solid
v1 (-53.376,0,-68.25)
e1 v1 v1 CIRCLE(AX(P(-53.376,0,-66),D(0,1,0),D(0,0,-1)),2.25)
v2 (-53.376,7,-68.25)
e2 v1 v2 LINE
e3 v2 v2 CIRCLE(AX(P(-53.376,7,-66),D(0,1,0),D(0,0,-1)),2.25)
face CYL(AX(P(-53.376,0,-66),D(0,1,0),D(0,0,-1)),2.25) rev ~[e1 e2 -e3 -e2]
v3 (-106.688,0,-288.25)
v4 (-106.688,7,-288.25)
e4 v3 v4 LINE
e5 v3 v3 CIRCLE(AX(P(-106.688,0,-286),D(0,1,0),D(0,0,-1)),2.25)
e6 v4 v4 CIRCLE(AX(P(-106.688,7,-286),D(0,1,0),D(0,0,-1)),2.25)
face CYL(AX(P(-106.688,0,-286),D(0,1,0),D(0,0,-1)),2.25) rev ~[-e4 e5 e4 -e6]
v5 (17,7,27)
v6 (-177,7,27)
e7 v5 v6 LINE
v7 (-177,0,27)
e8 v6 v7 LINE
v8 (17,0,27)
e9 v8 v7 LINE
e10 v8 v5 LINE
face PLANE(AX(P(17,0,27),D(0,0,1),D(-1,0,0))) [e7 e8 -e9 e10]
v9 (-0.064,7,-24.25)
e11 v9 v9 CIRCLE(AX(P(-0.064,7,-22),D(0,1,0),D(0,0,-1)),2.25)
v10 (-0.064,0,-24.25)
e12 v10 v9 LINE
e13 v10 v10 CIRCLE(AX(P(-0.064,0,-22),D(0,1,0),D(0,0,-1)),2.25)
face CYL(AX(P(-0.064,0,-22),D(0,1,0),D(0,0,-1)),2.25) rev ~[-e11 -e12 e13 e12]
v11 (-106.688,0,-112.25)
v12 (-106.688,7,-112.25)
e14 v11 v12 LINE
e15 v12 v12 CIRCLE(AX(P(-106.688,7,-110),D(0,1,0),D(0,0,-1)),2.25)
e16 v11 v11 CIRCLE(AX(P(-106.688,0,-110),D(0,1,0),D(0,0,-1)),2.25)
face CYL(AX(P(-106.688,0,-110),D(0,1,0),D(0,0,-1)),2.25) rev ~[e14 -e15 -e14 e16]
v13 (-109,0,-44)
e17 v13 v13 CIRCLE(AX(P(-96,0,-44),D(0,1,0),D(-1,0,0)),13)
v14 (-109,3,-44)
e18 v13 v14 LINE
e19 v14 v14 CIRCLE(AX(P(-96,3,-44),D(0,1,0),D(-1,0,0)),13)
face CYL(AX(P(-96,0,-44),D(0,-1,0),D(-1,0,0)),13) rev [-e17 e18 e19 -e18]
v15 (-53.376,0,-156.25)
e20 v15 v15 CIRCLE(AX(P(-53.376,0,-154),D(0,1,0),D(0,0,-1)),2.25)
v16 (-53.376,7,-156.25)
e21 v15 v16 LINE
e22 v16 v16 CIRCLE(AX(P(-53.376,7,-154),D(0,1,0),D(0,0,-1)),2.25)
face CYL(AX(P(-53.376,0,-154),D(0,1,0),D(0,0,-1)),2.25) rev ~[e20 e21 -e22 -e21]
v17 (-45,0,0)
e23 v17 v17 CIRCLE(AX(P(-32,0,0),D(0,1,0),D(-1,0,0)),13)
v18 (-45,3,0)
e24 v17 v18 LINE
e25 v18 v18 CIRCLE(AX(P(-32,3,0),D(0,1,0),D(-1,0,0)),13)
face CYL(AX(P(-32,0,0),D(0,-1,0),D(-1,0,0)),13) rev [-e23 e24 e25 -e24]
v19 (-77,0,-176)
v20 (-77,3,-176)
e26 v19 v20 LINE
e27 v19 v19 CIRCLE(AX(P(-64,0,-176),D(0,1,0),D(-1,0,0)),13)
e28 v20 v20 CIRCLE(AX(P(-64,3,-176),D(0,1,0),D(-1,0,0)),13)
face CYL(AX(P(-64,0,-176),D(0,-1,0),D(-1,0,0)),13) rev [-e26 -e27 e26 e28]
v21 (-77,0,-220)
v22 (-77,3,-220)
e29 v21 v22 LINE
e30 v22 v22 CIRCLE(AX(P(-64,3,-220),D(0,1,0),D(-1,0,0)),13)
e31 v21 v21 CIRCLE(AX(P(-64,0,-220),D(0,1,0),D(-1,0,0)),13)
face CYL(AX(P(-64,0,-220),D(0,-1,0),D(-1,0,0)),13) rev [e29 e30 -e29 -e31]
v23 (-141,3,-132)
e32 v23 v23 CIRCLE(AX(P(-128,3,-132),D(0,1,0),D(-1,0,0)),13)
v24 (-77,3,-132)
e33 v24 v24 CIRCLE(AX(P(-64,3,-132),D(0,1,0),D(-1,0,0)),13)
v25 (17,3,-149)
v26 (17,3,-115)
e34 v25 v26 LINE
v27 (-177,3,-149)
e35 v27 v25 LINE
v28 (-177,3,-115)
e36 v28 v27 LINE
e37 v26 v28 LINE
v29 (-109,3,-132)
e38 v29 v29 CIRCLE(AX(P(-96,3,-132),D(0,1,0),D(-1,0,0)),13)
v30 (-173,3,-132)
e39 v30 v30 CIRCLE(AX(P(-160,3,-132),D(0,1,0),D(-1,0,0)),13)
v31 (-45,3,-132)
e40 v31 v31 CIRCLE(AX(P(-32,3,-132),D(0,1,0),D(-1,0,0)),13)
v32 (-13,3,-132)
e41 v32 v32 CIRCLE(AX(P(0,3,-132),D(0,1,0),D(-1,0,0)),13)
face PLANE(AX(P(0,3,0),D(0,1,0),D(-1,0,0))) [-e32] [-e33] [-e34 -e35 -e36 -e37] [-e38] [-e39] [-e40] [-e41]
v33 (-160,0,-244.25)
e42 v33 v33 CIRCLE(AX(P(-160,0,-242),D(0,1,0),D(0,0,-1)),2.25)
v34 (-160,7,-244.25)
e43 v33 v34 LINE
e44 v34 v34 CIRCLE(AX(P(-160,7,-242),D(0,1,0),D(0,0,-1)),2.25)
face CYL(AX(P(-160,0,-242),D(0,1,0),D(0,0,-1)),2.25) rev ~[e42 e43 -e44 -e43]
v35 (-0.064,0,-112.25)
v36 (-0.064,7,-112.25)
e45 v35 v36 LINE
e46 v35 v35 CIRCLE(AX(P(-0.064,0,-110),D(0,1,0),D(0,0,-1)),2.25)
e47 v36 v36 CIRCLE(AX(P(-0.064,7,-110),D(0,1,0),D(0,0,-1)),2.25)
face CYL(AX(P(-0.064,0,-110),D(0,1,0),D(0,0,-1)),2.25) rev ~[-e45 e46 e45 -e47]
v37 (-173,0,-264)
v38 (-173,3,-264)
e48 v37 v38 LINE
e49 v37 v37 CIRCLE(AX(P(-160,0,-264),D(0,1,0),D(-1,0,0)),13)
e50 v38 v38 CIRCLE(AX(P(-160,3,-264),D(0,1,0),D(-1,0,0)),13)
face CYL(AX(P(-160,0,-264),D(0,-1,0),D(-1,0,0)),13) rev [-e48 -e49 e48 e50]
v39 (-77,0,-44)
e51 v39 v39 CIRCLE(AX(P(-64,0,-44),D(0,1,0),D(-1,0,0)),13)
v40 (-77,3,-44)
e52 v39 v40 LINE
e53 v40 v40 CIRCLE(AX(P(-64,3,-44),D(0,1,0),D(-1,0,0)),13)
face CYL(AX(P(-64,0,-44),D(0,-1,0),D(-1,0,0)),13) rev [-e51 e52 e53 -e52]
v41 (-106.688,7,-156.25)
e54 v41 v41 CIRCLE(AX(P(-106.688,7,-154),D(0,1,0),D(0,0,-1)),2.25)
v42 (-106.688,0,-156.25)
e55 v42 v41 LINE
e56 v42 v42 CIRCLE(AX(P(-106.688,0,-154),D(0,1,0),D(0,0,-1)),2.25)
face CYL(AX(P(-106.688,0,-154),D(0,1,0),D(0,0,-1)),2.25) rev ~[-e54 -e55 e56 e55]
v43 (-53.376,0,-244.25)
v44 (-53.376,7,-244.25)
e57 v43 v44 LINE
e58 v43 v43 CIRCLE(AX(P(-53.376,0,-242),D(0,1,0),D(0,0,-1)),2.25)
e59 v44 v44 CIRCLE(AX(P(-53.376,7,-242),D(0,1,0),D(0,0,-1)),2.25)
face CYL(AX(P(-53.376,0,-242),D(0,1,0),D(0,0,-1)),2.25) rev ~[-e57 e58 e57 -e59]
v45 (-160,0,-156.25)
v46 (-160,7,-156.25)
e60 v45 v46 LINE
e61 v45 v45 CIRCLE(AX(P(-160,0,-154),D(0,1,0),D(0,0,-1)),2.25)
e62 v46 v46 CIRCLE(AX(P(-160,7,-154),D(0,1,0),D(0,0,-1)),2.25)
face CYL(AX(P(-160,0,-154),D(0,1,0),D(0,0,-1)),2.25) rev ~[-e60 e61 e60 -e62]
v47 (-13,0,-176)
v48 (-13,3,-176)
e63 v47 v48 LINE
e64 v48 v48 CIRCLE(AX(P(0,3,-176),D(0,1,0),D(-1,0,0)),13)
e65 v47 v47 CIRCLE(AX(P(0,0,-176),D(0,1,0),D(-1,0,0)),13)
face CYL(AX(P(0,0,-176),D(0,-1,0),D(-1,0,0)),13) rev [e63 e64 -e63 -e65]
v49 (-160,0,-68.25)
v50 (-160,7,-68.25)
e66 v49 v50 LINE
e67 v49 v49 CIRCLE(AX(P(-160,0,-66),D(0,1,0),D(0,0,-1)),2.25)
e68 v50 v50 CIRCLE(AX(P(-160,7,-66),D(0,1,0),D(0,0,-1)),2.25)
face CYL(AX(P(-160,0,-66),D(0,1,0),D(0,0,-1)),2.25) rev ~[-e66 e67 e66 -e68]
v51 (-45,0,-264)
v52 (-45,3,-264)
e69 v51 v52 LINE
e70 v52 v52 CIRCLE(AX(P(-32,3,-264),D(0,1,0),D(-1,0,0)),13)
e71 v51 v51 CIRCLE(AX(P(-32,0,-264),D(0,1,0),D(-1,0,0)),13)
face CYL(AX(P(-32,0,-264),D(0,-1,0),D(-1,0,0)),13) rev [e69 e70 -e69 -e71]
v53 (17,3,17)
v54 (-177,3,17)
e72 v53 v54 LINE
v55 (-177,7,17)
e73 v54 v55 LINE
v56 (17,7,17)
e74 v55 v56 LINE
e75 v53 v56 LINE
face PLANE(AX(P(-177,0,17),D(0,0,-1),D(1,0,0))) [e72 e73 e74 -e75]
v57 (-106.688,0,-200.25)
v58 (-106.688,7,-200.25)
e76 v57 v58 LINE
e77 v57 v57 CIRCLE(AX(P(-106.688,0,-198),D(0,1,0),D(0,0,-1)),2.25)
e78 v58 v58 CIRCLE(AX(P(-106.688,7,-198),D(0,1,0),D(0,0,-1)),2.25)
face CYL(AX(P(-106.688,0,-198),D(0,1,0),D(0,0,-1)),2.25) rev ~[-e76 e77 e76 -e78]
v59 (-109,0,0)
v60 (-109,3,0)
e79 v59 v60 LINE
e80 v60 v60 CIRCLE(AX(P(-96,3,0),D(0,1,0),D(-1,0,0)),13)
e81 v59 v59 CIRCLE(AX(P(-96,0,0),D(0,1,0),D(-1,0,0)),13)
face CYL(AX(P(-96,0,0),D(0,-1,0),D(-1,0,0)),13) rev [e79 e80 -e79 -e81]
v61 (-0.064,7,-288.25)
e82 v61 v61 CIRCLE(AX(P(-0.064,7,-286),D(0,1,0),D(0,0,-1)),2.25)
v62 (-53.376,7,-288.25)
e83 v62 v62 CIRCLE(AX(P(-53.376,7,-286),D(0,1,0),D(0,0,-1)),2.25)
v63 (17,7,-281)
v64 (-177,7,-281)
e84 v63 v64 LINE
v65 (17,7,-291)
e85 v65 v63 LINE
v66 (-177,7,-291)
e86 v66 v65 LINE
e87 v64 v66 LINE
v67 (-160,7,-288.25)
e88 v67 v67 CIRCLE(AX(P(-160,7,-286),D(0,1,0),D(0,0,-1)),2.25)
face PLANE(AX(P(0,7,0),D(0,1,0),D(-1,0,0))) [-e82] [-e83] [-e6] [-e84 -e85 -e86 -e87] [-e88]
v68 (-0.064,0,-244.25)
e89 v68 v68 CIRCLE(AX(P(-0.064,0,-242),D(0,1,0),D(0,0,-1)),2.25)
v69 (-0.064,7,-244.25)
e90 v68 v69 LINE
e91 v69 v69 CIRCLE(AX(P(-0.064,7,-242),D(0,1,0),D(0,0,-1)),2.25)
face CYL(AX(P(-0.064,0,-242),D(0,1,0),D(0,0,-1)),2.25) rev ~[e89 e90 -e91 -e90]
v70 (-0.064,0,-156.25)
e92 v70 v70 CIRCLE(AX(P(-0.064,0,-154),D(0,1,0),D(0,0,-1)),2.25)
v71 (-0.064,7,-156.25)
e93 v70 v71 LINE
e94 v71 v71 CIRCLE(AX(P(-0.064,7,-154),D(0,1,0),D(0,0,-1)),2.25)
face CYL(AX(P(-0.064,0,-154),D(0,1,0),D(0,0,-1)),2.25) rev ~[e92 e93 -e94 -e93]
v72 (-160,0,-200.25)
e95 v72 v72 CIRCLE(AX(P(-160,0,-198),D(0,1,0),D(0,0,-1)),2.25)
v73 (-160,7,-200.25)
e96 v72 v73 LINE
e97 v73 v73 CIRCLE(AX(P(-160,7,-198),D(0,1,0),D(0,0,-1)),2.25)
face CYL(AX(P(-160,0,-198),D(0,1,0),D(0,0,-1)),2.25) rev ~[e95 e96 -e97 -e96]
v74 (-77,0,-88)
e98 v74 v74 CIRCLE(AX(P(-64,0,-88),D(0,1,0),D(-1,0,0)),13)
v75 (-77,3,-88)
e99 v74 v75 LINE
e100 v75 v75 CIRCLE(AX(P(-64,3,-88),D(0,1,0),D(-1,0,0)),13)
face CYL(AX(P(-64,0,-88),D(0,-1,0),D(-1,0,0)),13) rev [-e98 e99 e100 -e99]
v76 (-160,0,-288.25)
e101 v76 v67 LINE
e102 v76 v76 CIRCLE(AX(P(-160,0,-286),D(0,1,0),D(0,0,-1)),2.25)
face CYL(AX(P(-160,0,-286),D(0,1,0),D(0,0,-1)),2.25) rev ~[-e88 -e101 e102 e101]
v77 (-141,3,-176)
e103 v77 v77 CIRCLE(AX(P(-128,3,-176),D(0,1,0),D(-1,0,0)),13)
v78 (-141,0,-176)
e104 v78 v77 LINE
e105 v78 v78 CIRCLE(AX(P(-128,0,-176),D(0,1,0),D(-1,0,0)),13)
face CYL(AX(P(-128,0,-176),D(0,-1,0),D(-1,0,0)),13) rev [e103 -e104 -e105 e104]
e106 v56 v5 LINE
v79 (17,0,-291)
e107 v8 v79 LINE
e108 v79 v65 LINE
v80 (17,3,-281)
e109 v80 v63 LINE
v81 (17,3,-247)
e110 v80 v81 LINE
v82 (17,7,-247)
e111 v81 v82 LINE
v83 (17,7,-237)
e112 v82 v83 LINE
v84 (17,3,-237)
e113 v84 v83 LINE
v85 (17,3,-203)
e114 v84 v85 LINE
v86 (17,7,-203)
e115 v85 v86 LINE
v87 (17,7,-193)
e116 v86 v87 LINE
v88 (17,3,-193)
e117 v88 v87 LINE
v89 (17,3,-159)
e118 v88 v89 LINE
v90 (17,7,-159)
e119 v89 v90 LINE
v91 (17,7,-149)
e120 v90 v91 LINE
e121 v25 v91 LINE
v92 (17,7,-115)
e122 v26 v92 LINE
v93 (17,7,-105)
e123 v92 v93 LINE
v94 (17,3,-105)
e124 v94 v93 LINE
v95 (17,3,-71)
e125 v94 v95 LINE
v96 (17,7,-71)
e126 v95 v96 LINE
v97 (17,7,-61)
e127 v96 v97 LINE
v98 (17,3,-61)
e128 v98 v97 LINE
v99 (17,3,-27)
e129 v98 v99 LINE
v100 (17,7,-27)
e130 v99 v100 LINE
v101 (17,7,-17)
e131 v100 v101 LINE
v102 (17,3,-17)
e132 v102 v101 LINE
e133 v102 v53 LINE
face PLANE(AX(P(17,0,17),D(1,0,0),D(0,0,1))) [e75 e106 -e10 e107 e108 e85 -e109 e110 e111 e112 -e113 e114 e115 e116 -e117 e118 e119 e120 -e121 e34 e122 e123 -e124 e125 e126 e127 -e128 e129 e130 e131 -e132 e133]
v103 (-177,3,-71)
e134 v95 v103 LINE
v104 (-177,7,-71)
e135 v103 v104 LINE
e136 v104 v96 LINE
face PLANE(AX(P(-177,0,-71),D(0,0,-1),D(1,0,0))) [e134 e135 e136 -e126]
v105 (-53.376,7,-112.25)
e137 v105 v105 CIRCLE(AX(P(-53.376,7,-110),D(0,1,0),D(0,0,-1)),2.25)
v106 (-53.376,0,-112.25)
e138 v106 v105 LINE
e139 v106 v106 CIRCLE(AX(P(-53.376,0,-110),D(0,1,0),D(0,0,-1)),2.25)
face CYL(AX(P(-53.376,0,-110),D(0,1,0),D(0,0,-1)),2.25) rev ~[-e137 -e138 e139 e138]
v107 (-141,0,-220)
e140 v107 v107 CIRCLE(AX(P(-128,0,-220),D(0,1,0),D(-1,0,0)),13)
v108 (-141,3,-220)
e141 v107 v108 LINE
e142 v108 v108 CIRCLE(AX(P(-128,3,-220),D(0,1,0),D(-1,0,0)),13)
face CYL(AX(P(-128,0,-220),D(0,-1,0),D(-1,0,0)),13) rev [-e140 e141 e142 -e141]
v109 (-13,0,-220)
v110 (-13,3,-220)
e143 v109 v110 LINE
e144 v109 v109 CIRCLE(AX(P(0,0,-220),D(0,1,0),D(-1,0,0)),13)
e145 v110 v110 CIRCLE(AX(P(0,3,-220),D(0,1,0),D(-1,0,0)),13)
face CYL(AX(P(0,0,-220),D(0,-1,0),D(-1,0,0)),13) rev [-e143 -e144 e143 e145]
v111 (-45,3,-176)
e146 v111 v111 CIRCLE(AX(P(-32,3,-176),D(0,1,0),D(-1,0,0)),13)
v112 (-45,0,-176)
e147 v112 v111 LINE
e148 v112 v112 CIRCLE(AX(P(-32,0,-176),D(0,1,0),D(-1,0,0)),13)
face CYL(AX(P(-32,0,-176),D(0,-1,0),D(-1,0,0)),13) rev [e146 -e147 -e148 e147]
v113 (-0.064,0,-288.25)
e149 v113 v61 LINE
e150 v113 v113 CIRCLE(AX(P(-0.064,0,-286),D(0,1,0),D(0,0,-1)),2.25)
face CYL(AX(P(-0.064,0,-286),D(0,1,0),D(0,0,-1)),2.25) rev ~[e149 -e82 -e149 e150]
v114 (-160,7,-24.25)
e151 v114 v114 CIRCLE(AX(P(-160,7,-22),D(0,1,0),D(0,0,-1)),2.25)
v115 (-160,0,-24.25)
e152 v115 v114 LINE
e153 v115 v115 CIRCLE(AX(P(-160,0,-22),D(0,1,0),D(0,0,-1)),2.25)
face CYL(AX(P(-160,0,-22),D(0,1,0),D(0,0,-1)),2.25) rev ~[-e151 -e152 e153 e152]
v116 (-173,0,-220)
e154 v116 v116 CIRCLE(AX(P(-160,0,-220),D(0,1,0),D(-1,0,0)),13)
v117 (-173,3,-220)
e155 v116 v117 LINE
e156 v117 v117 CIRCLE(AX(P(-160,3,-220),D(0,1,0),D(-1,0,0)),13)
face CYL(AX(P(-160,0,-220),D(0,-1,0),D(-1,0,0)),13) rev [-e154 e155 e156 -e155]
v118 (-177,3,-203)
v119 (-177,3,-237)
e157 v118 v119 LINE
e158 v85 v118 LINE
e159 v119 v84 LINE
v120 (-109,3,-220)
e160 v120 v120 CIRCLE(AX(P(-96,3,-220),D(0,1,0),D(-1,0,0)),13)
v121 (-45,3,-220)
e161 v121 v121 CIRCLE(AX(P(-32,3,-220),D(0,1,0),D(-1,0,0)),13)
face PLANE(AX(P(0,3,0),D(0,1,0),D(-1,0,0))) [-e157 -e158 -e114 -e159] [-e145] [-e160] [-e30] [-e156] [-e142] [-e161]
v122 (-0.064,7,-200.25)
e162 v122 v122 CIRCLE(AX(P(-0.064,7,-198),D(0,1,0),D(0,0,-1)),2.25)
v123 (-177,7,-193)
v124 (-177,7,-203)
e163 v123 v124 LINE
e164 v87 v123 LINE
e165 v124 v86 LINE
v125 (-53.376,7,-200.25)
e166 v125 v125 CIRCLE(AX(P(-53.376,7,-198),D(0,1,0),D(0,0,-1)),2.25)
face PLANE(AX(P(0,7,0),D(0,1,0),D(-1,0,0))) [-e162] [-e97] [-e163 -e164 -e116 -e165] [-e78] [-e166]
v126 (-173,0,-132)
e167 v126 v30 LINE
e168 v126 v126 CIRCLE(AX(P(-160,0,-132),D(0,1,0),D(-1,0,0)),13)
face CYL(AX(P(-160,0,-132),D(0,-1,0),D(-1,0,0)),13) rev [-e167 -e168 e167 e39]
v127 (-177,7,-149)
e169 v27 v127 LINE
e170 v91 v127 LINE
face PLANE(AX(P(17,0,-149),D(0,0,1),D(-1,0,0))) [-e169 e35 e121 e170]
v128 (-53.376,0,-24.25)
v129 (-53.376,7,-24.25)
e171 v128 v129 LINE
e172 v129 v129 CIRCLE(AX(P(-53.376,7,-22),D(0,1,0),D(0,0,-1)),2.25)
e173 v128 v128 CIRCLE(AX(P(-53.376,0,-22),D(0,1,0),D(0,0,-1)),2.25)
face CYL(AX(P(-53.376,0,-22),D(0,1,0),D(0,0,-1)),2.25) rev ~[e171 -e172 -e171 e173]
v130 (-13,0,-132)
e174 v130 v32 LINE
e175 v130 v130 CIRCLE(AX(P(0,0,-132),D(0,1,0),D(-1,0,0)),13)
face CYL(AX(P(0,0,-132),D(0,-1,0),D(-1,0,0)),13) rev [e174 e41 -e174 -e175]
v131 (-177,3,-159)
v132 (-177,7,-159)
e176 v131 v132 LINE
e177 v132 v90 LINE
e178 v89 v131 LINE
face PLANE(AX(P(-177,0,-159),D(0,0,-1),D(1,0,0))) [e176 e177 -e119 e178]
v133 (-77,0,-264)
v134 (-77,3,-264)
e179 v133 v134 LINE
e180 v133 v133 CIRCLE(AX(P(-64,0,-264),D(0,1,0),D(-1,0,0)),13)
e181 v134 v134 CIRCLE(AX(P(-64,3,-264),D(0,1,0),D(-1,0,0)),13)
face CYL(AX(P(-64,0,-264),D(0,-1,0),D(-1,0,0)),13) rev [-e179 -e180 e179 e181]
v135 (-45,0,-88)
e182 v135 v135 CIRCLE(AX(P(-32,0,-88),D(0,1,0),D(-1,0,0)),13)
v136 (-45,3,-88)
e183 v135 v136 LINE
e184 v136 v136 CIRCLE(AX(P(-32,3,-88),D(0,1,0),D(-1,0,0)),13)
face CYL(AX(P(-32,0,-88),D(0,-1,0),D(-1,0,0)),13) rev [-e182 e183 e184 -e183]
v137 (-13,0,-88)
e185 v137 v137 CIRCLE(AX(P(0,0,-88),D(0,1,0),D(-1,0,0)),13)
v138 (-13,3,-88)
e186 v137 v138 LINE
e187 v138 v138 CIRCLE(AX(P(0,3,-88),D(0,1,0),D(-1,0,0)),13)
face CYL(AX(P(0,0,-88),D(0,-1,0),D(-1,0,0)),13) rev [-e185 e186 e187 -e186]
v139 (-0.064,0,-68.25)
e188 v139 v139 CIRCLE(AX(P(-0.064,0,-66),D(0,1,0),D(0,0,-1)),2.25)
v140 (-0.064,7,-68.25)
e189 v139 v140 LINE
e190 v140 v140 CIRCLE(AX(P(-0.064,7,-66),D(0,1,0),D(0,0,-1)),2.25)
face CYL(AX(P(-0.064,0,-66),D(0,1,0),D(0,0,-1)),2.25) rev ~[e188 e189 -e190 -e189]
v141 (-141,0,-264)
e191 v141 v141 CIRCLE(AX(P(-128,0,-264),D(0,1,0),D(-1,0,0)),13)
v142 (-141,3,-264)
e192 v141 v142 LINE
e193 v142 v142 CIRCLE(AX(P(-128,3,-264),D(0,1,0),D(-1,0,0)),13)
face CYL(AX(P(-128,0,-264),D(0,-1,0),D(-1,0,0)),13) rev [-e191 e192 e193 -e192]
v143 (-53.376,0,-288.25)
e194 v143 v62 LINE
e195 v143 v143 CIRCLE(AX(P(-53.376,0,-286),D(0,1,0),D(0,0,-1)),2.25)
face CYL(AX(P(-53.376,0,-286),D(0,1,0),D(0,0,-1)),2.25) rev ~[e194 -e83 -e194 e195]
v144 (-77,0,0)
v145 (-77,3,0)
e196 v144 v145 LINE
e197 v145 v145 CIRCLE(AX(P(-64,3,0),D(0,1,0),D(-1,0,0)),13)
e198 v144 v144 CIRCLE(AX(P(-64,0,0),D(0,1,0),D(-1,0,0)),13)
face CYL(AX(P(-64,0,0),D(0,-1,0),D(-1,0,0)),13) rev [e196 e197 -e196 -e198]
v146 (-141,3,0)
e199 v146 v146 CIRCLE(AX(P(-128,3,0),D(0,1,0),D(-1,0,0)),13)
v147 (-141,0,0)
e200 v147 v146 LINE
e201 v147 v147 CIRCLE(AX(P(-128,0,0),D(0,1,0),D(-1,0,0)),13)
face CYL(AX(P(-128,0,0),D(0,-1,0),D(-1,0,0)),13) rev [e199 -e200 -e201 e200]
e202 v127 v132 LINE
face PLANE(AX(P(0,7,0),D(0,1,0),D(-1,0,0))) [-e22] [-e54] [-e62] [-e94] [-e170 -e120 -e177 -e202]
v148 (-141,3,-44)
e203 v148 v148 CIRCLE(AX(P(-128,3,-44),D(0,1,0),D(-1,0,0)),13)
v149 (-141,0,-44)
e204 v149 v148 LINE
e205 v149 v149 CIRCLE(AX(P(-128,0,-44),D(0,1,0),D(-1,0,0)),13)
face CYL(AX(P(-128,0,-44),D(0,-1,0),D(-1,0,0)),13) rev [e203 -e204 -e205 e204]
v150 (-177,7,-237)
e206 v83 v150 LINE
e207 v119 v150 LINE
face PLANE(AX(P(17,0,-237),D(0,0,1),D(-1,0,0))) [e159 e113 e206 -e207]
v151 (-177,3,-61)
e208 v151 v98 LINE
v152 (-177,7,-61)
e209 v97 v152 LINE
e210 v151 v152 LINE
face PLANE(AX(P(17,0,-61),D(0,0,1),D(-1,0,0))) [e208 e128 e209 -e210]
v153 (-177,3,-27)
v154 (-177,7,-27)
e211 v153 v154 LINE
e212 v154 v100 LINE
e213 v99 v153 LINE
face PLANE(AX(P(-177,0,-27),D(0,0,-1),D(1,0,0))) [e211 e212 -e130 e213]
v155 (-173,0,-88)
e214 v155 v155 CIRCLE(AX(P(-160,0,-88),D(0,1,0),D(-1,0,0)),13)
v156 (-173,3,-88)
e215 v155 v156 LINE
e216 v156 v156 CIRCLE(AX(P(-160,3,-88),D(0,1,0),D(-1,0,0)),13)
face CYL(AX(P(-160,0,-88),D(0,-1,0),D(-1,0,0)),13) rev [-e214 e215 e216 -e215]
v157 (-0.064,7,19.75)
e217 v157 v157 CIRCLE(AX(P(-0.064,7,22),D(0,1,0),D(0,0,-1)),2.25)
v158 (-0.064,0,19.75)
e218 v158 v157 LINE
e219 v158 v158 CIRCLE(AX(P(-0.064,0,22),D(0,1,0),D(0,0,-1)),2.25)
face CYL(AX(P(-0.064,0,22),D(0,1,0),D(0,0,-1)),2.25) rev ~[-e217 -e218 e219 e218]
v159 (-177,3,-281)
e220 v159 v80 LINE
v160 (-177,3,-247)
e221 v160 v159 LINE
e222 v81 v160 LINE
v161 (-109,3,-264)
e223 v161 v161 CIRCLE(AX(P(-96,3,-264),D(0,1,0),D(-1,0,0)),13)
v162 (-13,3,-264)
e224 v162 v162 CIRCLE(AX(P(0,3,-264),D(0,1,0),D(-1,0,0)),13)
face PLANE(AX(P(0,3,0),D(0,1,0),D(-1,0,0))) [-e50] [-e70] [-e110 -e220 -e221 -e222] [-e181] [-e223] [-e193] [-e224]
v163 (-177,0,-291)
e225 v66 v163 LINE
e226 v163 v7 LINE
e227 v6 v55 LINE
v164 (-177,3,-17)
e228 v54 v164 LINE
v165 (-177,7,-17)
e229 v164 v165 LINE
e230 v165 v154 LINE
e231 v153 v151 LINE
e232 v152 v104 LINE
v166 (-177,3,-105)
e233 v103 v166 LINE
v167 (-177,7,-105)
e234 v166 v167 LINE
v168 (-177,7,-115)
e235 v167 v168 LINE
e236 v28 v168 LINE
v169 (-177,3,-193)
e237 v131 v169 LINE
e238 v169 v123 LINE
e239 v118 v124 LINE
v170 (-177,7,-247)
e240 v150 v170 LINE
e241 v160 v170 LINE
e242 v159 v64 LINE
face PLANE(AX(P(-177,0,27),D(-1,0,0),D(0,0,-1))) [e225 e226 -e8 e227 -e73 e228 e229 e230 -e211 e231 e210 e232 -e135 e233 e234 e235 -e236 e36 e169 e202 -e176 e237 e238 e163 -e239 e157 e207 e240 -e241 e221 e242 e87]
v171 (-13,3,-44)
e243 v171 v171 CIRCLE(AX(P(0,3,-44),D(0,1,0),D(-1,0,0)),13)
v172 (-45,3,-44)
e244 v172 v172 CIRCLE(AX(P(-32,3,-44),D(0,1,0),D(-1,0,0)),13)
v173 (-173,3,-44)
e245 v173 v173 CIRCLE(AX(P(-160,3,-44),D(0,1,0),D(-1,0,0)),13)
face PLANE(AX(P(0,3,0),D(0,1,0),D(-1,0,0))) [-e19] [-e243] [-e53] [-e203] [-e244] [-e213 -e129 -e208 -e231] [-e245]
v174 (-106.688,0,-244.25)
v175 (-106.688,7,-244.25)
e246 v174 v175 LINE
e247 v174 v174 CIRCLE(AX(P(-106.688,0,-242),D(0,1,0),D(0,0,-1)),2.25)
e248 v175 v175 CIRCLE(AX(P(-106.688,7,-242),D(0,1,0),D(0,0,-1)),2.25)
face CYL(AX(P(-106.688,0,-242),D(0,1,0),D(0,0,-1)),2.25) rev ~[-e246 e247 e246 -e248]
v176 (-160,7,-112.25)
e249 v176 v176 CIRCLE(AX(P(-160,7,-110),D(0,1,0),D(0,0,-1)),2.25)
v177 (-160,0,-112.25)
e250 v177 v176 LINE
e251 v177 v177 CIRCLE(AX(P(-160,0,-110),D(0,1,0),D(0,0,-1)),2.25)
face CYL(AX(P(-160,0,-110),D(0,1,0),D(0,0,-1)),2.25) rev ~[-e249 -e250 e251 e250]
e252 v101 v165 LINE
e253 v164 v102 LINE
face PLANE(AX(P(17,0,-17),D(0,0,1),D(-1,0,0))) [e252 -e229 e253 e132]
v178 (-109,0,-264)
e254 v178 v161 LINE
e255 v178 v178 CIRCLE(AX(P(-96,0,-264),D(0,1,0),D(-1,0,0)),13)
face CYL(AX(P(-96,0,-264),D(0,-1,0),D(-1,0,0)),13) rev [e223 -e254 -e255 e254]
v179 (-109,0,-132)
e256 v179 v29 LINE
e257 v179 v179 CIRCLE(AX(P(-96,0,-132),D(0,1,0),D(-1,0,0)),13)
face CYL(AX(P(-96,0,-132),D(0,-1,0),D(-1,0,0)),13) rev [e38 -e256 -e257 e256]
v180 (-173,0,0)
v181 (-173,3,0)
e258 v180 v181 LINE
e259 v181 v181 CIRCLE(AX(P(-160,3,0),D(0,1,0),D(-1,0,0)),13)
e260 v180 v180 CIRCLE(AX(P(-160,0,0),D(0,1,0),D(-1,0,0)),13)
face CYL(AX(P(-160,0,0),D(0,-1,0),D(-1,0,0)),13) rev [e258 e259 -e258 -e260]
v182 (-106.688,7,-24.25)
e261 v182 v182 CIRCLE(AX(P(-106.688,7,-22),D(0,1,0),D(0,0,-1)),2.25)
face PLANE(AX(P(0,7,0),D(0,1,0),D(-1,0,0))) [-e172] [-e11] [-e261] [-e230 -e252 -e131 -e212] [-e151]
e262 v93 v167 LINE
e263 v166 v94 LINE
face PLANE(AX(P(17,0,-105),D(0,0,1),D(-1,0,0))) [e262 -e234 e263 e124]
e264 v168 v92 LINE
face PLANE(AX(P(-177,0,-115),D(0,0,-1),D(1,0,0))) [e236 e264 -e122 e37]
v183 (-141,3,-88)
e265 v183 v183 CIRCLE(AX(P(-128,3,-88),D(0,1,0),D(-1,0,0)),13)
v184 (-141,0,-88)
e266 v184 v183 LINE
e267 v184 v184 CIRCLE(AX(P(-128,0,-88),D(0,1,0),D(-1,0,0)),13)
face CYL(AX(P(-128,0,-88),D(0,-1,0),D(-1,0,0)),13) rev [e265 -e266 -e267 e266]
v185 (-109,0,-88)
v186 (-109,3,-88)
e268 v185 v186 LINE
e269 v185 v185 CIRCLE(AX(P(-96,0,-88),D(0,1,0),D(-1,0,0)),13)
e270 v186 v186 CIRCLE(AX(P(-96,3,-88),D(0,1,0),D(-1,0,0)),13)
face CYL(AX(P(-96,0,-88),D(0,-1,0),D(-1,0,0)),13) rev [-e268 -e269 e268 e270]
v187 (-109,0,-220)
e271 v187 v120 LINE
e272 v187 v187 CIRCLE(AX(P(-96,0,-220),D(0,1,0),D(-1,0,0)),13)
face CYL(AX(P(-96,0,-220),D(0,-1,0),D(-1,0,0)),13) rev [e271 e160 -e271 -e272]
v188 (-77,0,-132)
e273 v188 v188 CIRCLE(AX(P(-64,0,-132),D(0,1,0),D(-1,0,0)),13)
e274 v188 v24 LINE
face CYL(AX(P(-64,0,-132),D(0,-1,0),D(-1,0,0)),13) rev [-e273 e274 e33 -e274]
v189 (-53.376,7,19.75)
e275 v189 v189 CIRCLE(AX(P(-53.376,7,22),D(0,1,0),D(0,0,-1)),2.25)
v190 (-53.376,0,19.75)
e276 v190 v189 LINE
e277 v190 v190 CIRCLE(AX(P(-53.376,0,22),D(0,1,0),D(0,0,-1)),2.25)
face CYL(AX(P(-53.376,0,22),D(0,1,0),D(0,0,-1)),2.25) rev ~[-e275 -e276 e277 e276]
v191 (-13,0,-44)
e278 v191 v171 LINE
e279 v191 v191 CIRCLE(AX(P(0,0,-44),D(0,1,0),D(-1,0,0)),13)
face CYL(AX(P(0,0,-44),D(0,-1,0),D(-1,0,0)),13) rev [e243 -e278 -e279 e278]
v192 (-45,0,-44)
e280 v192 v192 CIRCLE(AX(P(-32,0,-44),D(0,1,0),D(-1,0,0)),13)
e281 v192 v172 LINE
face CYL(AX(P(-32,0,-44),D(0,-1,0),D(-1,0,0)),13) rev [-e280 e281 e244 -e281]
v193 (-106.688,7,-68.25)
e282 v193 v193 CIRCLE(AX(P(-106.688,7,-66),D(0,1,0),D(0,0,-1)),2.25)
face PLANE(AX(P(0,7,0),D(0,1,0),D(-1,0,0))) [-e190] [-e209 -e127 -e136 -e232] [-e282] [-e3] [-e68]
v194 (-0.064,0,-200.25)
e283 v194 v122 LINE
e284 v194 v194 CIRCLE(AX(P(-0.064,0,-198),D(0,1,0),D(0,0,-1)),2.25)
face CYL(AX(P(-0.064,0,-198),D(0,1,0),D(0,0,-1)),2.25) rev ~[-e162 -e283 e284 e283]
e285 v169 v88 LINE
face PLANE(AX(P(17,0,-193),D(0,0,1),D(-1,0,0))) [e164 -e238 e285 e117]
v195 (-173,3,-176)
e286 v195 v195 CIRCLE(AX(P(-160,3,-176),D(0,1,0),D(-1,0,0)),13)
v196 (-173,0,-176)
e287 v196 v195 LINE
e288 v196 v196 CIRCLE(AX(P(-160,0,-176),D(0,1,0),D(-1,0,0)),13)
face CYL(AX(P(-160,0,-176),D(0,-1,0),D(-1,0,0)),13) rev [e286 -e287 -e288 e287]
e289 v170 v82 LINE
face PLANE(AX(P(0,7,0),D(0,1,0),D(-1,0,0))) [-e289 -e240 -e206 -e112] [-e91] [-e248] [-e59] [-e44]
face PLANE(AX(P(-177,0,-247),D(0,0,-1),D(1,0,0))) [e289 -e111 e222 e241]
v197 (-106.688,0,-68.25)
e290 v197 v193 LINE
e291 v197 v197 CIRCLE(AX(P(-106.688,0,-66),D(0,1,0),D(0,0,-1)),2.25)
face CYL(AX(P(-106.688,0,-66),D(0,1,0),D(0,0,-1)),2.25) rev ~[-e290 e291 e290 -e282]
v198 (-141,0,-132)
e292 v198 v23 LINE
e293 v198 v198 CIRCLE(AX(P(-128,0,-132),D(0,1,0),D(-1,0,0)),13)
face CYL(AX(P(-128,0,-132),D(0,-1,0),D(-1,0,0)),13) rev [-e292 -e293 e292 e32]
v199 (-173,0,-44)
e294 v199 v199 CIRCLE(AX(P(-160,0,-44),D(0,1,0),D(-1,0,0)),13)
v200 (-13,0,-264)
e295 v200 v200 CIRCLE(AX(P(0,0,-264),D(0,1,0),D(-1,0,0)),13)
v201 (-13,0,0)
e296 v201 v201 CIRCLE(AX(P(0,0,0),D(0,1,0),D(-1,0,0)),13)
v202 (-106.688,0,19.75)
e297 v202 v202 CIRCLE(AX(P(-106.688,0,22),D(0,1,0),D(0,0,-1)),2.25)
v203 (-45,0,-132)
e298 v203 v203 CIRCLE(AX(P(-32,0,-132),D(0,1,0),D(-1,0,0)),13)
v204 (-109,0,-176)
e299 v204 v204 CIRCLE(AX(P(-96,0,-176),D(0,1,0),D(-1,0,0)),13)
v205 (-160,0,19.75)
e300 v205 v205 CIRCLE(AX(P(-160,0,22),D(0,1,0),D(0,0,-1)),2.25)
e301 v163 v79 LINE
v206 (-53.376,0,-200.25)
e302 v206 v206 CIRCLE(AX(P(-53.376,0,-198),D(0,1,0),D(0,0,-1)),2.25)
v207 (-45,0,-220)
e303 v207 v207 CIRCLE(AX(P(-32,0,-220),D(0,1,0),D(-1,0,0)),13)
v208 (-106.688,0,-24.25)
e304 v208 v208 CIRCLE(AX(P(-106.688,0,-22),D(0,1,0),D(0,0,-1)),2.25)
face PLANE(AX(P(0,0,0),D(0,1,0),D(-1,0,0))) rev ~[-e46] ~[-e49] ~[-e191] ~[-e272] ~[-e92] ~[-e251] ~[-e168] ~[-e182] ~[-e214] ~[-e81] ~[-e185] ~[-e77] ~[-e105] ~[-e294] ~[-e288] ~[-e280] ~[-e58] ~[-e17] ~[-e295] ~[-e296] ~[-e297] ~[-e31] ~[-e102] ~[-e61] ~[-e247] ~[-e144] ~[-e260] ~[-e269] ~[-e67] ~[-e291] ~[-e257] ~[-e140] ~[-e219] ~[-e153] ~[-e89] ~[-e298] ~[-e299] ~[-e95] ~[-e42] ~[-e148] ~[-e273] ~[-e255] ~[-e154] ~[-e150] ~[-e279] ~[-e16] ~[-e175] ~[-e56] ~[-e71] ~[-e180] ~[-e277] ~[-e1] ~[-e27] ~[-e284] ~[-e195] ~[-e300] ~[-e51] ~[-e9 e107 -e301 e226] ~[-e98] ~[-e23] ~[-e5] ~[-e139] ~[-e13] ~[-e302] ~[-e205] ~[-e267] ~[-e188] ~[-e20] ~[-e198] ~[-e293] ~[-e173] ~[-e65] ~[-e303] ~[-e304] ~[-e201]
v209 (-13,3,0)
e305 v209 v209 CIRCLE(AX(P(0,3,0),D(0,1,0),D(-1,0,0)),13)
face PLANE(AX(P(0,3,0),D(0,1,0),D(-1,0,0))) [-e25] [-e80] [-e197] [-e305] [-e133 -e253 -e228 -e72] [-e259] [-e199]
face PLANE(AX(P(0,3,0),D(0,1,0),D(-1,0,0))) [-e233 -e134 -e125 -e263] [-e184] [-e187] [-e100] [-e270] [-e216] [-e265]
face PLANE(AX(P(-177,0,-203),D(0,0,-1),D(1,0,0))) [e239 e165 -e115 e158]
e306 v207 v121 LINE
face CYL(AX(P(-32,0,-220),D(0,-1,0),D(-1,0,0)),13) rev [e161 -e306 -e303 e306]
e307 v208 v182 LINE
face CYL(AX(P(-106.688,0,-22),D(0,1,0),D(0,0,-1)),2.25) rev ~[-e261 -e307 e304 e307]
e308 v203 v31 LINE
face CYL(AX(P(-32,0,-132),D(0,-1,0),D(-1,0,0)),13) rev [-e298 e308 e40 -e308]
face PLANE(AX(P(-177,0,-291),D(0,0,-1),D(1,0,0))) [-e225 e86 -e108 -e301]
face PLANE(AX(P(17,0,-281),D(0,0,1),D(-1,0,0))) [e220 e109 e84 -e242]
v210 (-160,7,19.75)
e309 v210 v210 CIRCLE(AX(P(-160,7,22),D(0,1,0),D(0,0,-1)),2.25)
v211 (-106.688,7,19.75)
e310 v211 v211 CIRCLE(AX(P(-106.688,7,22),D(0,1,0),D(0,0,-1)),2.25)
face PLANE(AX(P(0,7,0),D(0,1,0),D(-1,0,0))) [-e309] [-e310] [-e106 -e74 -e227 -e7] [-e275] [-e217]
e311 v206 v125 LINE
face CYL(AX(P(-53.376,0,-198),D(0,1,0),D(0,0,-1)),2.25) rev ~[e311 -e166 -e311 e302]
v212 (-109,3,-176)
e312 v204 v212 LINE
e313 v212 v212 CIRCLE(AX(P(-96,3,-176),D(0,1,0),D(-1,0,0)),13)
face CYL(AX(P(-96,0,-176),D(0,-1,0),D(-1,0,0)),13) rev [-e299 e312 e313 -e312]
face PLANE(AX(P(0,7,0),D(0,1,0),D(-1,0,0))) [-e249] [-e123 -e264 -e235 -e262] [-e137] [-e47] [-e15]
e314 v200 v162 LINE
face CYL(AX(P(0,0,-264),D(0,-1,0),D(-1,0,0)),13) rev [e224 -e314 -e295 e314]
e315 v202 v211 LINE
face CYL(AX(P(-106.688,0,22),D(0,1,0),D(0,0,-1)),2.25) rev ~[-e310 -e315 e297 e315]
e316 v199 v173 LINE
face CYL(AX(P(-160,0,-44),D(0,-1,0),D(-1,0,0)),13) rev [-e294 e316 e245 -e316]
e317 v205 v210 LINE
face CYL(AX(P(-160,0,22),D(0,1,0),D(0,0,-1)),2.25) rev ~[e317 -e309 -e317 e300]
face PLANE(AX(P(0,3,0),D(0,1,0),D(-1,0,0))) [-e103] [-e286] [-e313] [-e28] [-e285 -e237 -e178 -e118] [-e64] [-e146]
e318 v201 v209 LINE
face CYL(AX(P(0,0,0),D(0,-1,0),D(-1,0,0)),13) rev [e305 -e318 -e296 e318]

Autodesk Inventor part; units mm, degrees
ref_plane "YZ Plane" through (0, 0, 0) normal (1, 0, 0) x (0, 1, 0)
ref_plane "XZ Plane" through (0, 0, 0) normal (0, 1, 0) x (-1, 0, 0)
ref_plane "XY Plane" through (0, 0, 0) normal (0, 0, 1) x (1, 0, 0)
sketch "Sketch1" plane through (0, 0, 0) normal (0, 1, 0) x (-1, 0, 0)
  circle A0 centre (0, 0) radius 13
  line L0 (0, 0) -> (0, -264) construction
  line L1 (0, 0) -> (160, 0) construction
  circle A1 centre (0, -44) radius 13
  circle A2 centre (0, -88) radius 13
  circle A3 centre (0, -132) radius 13
  circle A4 centre (0, -176) radius 13
  circle A5 centre (0, -220) radius 13
  circle A6 centre (0, -264) radius 13
  circle A7 centre (32, 0) radius 13
  circle A8 centre (32, -44) radius 13
  circle A9 centre (32, -88) radius 13
  circle A10 centre (32, -132) radius 13
  circle A11 centre (32, -176) radius 13
  circle A12 centre (32, -220) radius 13
  circle A13 centre (32, -264) radius 13
  circle A14 centre (64, 0) radius 13
  circle A15 centre (64, -44) radius 13
  circle A16 centre (64, -88) radius 13
  circle A17 centre (64, -132) radius 13
  circle A18 centre (64, -176) radius 13
  circle A19 centre (64, -220) radius 13
  circle A20 centre (64, -264) radius 13
  circle A21 centre (96, 0) radius 13
  circle A22 centre (96, -44) radius 13
  circle A23 centre (96, -88) radius 13
  circle A24 centre (96, -132) radius 13
  circle A25 centre (96, -176) radius 13
  circle A26 centre (96, -220) radius 13
  circle A27 centre (96, -264) radius 13
  circle A28 centre (128, 0) radius 13
  circle A29 centre (128, -44) radius 13
  circle A30 centre (128, -88) radius 13
  circle A31 centre (128, -132) radius 13
  circle A32 centre (128, -176) radius 13
  circle A33 centre (128, -220) radius 13
  circle A34 centre (128, -264) radius 13
  circle A35 centre (160, 0) radius 13
  circle A36 centre (160, -44) radius 13
  circle A37 centre (160, -88) radius 13
  circle A38 centre (160, -132) radius 13
  circle A39 centre (160, -176) radius 13
  circle A40 centre (160, -220) radius 13
  circle A41 centre (160, -264) radius 13
  line L2 (-17, 27) -> (177, 27)
  line L3 (177, 27) -> (177, -291)
  line L4 (177, -291) -> (-17, -291)
  line L5 (-17, -291) -> (-17, 27)
  line L6 (-17, -17) -> (177, -17)
  line L7 (177, -17) -> (177, -27) construction
  line L8 (177, -27) -> (-17, -27)
  line L9 (-17, -27) -> (-17, -17) construction
  circle A42 centre (0.064, 22) radius 2.25 construction
  line L10 (177, 17) -> (-17, 17)
  line L11 (177, 17) -> (-17, -17) construction
  line L12 (-17, -281) -> (177, -281)
  line L13 (-17, -61) -> (177, -61)
  line L14 (177, -71) -> (-17, -71)
  line L15 (-17, -105) -> (177, -105)
  line L16 (177, -115) -> (-17, -115)
  line L17 (-17, -149) -> (177, -149)
  line L18 (177, -159) -> (-17, -159)
  line L19 (-17, -193) -> (177, -193)
  line L20 (177, -203) -> (-17, -203)
  line L21 (-17, -237) -> (177, -237)
  line L22 (177, -247) -> (-17, -247)
  line L23 (160, 0) -> (160, -44) construction
  line L24 (160, -22) -> (177, -22) construction
  point P0 (0.064, -22)
  point P1 (0.064, -66)
  point P2 (0.064, -110)
  point P3 (0.064, -154)
  point P4 (0.064, -198)
  point P5 (53.376, 22)
  point P6 (53.376, -22)
  point P7 (53.376, -66)
  point P8 (53.376, -110)
  point P9 (53.376, -154)
  point P10 (53.376, -198)
  point P11 (106.688, 22)
  point P12 (106.688, -22)
  point P13 (106.688, -66)
  point P14 (106.688, -110)
  point P15 (106.688, -154)
  point P16 (106.688, -198)
  point P17 (106.688, -22)
  point P18 (80, 0)
  point P19 (0.064, -242)
  point P20 (53.376, -242)
  point P21 (106.688, -242)
  point P22 (0.064, -22)
  point P23 (0.064, -286)
  point P24 (53.376, -286)
  point P25 (106.688, -286)
  point P26 (53.376, -22)
  point P27 (-17, -27)
  point P28 (-17, -71)
  point P29 (177, -71)
  point P30 (-17, -115)
  point P31 (177, -115)
  point P32 (-17, -159)
  point P33 (177, -159)
  point P34 (-17, -203)
  point P35 (177, -203)
  point P36 (-17, -247)
  point P37 (177, -247)
  point P38 (160, 22)
  point P39 (160, -66)
  point P40 (160, -110)
  point P41 (160, -154)
  point P42 (160, -198)
  point P43 (160, -242)
  point P44 (160, -286)
  dimension "d0" = 26
  dimension "d3" = 44
  dimension "d6" = 32
  dimension "d9" = 17
  dimension "d12" = 44
  dimension "d15" = 53.312
  dimension "d18" = 17
  dimension "d19" = 4.5
  dimension "d20" = 34
  dimension "d21" = 10
  dimension "d22" = 10
  dimension "d23" = 10
  dimension "d26" = 44
  dimension "d31" = 34
extrude "Extrusion1" add sketch "Sketch1" along normal blind 3
extrude "Extrusion2" add sketch "Sketch1" along normal blind 7 contours L2 L3 L10 L5 | L6 L3 L8 L5 | L13 L3 L14 L5 | L15 L3 L16 L5 | L17 L3 L18 L5 | L19 L3 L20 L5 | L21 L3 L22 L5 | L12 L3 L4 L5
hole "Hole1" at (-0.064, 0, 22) at (-0.064, 0, -22) at (-0.064, 0, -66) at (-0.064, 0, -110) at (-0.064, 0, -154) at (-0.064, 0, -198) at (-53.376, 0, 22) at (-53.376, 0, -22) at (-53.376, 0, -66) at (-53.376, 0, -110) at (-53.376, 0, -154) at (-53.376, 0, -198) at (-106.688, 0, 22) at (-106.688, 0, -22) at (-106.688, 0, -66) at (-106.688, 0, -110) at (-106.688, 0, -154) at (-106.688, 0, -198) at (-0.064, 0, -242) at (-53.376, 0, -242) at (-106.688, 0, -242) at (-0.064, 0, -286) at (-53.376, 0, -286) at (-106.688, 0, -286) at (-160, 0, -22) at (-160, 0, 22) at (-160, 0, -66) at (-160, 0, -110) at (-160, 0, -154) at (-160, 0, -198) at (-160, 0, -242) at (-160, 0, -286) direction (0, 1, 0) diameter 4.5 end through all
equation "\"d12\" = d3"
equation "\"d15\" = 1.666 * d6"
equation "\"d18\" = d9"
equation "\"d22\" = d21"
equation "\"d23\" = d21"
equation "\"d26\" = d3"
equation "\"d31\" = d20"
properties part number "Chute"
